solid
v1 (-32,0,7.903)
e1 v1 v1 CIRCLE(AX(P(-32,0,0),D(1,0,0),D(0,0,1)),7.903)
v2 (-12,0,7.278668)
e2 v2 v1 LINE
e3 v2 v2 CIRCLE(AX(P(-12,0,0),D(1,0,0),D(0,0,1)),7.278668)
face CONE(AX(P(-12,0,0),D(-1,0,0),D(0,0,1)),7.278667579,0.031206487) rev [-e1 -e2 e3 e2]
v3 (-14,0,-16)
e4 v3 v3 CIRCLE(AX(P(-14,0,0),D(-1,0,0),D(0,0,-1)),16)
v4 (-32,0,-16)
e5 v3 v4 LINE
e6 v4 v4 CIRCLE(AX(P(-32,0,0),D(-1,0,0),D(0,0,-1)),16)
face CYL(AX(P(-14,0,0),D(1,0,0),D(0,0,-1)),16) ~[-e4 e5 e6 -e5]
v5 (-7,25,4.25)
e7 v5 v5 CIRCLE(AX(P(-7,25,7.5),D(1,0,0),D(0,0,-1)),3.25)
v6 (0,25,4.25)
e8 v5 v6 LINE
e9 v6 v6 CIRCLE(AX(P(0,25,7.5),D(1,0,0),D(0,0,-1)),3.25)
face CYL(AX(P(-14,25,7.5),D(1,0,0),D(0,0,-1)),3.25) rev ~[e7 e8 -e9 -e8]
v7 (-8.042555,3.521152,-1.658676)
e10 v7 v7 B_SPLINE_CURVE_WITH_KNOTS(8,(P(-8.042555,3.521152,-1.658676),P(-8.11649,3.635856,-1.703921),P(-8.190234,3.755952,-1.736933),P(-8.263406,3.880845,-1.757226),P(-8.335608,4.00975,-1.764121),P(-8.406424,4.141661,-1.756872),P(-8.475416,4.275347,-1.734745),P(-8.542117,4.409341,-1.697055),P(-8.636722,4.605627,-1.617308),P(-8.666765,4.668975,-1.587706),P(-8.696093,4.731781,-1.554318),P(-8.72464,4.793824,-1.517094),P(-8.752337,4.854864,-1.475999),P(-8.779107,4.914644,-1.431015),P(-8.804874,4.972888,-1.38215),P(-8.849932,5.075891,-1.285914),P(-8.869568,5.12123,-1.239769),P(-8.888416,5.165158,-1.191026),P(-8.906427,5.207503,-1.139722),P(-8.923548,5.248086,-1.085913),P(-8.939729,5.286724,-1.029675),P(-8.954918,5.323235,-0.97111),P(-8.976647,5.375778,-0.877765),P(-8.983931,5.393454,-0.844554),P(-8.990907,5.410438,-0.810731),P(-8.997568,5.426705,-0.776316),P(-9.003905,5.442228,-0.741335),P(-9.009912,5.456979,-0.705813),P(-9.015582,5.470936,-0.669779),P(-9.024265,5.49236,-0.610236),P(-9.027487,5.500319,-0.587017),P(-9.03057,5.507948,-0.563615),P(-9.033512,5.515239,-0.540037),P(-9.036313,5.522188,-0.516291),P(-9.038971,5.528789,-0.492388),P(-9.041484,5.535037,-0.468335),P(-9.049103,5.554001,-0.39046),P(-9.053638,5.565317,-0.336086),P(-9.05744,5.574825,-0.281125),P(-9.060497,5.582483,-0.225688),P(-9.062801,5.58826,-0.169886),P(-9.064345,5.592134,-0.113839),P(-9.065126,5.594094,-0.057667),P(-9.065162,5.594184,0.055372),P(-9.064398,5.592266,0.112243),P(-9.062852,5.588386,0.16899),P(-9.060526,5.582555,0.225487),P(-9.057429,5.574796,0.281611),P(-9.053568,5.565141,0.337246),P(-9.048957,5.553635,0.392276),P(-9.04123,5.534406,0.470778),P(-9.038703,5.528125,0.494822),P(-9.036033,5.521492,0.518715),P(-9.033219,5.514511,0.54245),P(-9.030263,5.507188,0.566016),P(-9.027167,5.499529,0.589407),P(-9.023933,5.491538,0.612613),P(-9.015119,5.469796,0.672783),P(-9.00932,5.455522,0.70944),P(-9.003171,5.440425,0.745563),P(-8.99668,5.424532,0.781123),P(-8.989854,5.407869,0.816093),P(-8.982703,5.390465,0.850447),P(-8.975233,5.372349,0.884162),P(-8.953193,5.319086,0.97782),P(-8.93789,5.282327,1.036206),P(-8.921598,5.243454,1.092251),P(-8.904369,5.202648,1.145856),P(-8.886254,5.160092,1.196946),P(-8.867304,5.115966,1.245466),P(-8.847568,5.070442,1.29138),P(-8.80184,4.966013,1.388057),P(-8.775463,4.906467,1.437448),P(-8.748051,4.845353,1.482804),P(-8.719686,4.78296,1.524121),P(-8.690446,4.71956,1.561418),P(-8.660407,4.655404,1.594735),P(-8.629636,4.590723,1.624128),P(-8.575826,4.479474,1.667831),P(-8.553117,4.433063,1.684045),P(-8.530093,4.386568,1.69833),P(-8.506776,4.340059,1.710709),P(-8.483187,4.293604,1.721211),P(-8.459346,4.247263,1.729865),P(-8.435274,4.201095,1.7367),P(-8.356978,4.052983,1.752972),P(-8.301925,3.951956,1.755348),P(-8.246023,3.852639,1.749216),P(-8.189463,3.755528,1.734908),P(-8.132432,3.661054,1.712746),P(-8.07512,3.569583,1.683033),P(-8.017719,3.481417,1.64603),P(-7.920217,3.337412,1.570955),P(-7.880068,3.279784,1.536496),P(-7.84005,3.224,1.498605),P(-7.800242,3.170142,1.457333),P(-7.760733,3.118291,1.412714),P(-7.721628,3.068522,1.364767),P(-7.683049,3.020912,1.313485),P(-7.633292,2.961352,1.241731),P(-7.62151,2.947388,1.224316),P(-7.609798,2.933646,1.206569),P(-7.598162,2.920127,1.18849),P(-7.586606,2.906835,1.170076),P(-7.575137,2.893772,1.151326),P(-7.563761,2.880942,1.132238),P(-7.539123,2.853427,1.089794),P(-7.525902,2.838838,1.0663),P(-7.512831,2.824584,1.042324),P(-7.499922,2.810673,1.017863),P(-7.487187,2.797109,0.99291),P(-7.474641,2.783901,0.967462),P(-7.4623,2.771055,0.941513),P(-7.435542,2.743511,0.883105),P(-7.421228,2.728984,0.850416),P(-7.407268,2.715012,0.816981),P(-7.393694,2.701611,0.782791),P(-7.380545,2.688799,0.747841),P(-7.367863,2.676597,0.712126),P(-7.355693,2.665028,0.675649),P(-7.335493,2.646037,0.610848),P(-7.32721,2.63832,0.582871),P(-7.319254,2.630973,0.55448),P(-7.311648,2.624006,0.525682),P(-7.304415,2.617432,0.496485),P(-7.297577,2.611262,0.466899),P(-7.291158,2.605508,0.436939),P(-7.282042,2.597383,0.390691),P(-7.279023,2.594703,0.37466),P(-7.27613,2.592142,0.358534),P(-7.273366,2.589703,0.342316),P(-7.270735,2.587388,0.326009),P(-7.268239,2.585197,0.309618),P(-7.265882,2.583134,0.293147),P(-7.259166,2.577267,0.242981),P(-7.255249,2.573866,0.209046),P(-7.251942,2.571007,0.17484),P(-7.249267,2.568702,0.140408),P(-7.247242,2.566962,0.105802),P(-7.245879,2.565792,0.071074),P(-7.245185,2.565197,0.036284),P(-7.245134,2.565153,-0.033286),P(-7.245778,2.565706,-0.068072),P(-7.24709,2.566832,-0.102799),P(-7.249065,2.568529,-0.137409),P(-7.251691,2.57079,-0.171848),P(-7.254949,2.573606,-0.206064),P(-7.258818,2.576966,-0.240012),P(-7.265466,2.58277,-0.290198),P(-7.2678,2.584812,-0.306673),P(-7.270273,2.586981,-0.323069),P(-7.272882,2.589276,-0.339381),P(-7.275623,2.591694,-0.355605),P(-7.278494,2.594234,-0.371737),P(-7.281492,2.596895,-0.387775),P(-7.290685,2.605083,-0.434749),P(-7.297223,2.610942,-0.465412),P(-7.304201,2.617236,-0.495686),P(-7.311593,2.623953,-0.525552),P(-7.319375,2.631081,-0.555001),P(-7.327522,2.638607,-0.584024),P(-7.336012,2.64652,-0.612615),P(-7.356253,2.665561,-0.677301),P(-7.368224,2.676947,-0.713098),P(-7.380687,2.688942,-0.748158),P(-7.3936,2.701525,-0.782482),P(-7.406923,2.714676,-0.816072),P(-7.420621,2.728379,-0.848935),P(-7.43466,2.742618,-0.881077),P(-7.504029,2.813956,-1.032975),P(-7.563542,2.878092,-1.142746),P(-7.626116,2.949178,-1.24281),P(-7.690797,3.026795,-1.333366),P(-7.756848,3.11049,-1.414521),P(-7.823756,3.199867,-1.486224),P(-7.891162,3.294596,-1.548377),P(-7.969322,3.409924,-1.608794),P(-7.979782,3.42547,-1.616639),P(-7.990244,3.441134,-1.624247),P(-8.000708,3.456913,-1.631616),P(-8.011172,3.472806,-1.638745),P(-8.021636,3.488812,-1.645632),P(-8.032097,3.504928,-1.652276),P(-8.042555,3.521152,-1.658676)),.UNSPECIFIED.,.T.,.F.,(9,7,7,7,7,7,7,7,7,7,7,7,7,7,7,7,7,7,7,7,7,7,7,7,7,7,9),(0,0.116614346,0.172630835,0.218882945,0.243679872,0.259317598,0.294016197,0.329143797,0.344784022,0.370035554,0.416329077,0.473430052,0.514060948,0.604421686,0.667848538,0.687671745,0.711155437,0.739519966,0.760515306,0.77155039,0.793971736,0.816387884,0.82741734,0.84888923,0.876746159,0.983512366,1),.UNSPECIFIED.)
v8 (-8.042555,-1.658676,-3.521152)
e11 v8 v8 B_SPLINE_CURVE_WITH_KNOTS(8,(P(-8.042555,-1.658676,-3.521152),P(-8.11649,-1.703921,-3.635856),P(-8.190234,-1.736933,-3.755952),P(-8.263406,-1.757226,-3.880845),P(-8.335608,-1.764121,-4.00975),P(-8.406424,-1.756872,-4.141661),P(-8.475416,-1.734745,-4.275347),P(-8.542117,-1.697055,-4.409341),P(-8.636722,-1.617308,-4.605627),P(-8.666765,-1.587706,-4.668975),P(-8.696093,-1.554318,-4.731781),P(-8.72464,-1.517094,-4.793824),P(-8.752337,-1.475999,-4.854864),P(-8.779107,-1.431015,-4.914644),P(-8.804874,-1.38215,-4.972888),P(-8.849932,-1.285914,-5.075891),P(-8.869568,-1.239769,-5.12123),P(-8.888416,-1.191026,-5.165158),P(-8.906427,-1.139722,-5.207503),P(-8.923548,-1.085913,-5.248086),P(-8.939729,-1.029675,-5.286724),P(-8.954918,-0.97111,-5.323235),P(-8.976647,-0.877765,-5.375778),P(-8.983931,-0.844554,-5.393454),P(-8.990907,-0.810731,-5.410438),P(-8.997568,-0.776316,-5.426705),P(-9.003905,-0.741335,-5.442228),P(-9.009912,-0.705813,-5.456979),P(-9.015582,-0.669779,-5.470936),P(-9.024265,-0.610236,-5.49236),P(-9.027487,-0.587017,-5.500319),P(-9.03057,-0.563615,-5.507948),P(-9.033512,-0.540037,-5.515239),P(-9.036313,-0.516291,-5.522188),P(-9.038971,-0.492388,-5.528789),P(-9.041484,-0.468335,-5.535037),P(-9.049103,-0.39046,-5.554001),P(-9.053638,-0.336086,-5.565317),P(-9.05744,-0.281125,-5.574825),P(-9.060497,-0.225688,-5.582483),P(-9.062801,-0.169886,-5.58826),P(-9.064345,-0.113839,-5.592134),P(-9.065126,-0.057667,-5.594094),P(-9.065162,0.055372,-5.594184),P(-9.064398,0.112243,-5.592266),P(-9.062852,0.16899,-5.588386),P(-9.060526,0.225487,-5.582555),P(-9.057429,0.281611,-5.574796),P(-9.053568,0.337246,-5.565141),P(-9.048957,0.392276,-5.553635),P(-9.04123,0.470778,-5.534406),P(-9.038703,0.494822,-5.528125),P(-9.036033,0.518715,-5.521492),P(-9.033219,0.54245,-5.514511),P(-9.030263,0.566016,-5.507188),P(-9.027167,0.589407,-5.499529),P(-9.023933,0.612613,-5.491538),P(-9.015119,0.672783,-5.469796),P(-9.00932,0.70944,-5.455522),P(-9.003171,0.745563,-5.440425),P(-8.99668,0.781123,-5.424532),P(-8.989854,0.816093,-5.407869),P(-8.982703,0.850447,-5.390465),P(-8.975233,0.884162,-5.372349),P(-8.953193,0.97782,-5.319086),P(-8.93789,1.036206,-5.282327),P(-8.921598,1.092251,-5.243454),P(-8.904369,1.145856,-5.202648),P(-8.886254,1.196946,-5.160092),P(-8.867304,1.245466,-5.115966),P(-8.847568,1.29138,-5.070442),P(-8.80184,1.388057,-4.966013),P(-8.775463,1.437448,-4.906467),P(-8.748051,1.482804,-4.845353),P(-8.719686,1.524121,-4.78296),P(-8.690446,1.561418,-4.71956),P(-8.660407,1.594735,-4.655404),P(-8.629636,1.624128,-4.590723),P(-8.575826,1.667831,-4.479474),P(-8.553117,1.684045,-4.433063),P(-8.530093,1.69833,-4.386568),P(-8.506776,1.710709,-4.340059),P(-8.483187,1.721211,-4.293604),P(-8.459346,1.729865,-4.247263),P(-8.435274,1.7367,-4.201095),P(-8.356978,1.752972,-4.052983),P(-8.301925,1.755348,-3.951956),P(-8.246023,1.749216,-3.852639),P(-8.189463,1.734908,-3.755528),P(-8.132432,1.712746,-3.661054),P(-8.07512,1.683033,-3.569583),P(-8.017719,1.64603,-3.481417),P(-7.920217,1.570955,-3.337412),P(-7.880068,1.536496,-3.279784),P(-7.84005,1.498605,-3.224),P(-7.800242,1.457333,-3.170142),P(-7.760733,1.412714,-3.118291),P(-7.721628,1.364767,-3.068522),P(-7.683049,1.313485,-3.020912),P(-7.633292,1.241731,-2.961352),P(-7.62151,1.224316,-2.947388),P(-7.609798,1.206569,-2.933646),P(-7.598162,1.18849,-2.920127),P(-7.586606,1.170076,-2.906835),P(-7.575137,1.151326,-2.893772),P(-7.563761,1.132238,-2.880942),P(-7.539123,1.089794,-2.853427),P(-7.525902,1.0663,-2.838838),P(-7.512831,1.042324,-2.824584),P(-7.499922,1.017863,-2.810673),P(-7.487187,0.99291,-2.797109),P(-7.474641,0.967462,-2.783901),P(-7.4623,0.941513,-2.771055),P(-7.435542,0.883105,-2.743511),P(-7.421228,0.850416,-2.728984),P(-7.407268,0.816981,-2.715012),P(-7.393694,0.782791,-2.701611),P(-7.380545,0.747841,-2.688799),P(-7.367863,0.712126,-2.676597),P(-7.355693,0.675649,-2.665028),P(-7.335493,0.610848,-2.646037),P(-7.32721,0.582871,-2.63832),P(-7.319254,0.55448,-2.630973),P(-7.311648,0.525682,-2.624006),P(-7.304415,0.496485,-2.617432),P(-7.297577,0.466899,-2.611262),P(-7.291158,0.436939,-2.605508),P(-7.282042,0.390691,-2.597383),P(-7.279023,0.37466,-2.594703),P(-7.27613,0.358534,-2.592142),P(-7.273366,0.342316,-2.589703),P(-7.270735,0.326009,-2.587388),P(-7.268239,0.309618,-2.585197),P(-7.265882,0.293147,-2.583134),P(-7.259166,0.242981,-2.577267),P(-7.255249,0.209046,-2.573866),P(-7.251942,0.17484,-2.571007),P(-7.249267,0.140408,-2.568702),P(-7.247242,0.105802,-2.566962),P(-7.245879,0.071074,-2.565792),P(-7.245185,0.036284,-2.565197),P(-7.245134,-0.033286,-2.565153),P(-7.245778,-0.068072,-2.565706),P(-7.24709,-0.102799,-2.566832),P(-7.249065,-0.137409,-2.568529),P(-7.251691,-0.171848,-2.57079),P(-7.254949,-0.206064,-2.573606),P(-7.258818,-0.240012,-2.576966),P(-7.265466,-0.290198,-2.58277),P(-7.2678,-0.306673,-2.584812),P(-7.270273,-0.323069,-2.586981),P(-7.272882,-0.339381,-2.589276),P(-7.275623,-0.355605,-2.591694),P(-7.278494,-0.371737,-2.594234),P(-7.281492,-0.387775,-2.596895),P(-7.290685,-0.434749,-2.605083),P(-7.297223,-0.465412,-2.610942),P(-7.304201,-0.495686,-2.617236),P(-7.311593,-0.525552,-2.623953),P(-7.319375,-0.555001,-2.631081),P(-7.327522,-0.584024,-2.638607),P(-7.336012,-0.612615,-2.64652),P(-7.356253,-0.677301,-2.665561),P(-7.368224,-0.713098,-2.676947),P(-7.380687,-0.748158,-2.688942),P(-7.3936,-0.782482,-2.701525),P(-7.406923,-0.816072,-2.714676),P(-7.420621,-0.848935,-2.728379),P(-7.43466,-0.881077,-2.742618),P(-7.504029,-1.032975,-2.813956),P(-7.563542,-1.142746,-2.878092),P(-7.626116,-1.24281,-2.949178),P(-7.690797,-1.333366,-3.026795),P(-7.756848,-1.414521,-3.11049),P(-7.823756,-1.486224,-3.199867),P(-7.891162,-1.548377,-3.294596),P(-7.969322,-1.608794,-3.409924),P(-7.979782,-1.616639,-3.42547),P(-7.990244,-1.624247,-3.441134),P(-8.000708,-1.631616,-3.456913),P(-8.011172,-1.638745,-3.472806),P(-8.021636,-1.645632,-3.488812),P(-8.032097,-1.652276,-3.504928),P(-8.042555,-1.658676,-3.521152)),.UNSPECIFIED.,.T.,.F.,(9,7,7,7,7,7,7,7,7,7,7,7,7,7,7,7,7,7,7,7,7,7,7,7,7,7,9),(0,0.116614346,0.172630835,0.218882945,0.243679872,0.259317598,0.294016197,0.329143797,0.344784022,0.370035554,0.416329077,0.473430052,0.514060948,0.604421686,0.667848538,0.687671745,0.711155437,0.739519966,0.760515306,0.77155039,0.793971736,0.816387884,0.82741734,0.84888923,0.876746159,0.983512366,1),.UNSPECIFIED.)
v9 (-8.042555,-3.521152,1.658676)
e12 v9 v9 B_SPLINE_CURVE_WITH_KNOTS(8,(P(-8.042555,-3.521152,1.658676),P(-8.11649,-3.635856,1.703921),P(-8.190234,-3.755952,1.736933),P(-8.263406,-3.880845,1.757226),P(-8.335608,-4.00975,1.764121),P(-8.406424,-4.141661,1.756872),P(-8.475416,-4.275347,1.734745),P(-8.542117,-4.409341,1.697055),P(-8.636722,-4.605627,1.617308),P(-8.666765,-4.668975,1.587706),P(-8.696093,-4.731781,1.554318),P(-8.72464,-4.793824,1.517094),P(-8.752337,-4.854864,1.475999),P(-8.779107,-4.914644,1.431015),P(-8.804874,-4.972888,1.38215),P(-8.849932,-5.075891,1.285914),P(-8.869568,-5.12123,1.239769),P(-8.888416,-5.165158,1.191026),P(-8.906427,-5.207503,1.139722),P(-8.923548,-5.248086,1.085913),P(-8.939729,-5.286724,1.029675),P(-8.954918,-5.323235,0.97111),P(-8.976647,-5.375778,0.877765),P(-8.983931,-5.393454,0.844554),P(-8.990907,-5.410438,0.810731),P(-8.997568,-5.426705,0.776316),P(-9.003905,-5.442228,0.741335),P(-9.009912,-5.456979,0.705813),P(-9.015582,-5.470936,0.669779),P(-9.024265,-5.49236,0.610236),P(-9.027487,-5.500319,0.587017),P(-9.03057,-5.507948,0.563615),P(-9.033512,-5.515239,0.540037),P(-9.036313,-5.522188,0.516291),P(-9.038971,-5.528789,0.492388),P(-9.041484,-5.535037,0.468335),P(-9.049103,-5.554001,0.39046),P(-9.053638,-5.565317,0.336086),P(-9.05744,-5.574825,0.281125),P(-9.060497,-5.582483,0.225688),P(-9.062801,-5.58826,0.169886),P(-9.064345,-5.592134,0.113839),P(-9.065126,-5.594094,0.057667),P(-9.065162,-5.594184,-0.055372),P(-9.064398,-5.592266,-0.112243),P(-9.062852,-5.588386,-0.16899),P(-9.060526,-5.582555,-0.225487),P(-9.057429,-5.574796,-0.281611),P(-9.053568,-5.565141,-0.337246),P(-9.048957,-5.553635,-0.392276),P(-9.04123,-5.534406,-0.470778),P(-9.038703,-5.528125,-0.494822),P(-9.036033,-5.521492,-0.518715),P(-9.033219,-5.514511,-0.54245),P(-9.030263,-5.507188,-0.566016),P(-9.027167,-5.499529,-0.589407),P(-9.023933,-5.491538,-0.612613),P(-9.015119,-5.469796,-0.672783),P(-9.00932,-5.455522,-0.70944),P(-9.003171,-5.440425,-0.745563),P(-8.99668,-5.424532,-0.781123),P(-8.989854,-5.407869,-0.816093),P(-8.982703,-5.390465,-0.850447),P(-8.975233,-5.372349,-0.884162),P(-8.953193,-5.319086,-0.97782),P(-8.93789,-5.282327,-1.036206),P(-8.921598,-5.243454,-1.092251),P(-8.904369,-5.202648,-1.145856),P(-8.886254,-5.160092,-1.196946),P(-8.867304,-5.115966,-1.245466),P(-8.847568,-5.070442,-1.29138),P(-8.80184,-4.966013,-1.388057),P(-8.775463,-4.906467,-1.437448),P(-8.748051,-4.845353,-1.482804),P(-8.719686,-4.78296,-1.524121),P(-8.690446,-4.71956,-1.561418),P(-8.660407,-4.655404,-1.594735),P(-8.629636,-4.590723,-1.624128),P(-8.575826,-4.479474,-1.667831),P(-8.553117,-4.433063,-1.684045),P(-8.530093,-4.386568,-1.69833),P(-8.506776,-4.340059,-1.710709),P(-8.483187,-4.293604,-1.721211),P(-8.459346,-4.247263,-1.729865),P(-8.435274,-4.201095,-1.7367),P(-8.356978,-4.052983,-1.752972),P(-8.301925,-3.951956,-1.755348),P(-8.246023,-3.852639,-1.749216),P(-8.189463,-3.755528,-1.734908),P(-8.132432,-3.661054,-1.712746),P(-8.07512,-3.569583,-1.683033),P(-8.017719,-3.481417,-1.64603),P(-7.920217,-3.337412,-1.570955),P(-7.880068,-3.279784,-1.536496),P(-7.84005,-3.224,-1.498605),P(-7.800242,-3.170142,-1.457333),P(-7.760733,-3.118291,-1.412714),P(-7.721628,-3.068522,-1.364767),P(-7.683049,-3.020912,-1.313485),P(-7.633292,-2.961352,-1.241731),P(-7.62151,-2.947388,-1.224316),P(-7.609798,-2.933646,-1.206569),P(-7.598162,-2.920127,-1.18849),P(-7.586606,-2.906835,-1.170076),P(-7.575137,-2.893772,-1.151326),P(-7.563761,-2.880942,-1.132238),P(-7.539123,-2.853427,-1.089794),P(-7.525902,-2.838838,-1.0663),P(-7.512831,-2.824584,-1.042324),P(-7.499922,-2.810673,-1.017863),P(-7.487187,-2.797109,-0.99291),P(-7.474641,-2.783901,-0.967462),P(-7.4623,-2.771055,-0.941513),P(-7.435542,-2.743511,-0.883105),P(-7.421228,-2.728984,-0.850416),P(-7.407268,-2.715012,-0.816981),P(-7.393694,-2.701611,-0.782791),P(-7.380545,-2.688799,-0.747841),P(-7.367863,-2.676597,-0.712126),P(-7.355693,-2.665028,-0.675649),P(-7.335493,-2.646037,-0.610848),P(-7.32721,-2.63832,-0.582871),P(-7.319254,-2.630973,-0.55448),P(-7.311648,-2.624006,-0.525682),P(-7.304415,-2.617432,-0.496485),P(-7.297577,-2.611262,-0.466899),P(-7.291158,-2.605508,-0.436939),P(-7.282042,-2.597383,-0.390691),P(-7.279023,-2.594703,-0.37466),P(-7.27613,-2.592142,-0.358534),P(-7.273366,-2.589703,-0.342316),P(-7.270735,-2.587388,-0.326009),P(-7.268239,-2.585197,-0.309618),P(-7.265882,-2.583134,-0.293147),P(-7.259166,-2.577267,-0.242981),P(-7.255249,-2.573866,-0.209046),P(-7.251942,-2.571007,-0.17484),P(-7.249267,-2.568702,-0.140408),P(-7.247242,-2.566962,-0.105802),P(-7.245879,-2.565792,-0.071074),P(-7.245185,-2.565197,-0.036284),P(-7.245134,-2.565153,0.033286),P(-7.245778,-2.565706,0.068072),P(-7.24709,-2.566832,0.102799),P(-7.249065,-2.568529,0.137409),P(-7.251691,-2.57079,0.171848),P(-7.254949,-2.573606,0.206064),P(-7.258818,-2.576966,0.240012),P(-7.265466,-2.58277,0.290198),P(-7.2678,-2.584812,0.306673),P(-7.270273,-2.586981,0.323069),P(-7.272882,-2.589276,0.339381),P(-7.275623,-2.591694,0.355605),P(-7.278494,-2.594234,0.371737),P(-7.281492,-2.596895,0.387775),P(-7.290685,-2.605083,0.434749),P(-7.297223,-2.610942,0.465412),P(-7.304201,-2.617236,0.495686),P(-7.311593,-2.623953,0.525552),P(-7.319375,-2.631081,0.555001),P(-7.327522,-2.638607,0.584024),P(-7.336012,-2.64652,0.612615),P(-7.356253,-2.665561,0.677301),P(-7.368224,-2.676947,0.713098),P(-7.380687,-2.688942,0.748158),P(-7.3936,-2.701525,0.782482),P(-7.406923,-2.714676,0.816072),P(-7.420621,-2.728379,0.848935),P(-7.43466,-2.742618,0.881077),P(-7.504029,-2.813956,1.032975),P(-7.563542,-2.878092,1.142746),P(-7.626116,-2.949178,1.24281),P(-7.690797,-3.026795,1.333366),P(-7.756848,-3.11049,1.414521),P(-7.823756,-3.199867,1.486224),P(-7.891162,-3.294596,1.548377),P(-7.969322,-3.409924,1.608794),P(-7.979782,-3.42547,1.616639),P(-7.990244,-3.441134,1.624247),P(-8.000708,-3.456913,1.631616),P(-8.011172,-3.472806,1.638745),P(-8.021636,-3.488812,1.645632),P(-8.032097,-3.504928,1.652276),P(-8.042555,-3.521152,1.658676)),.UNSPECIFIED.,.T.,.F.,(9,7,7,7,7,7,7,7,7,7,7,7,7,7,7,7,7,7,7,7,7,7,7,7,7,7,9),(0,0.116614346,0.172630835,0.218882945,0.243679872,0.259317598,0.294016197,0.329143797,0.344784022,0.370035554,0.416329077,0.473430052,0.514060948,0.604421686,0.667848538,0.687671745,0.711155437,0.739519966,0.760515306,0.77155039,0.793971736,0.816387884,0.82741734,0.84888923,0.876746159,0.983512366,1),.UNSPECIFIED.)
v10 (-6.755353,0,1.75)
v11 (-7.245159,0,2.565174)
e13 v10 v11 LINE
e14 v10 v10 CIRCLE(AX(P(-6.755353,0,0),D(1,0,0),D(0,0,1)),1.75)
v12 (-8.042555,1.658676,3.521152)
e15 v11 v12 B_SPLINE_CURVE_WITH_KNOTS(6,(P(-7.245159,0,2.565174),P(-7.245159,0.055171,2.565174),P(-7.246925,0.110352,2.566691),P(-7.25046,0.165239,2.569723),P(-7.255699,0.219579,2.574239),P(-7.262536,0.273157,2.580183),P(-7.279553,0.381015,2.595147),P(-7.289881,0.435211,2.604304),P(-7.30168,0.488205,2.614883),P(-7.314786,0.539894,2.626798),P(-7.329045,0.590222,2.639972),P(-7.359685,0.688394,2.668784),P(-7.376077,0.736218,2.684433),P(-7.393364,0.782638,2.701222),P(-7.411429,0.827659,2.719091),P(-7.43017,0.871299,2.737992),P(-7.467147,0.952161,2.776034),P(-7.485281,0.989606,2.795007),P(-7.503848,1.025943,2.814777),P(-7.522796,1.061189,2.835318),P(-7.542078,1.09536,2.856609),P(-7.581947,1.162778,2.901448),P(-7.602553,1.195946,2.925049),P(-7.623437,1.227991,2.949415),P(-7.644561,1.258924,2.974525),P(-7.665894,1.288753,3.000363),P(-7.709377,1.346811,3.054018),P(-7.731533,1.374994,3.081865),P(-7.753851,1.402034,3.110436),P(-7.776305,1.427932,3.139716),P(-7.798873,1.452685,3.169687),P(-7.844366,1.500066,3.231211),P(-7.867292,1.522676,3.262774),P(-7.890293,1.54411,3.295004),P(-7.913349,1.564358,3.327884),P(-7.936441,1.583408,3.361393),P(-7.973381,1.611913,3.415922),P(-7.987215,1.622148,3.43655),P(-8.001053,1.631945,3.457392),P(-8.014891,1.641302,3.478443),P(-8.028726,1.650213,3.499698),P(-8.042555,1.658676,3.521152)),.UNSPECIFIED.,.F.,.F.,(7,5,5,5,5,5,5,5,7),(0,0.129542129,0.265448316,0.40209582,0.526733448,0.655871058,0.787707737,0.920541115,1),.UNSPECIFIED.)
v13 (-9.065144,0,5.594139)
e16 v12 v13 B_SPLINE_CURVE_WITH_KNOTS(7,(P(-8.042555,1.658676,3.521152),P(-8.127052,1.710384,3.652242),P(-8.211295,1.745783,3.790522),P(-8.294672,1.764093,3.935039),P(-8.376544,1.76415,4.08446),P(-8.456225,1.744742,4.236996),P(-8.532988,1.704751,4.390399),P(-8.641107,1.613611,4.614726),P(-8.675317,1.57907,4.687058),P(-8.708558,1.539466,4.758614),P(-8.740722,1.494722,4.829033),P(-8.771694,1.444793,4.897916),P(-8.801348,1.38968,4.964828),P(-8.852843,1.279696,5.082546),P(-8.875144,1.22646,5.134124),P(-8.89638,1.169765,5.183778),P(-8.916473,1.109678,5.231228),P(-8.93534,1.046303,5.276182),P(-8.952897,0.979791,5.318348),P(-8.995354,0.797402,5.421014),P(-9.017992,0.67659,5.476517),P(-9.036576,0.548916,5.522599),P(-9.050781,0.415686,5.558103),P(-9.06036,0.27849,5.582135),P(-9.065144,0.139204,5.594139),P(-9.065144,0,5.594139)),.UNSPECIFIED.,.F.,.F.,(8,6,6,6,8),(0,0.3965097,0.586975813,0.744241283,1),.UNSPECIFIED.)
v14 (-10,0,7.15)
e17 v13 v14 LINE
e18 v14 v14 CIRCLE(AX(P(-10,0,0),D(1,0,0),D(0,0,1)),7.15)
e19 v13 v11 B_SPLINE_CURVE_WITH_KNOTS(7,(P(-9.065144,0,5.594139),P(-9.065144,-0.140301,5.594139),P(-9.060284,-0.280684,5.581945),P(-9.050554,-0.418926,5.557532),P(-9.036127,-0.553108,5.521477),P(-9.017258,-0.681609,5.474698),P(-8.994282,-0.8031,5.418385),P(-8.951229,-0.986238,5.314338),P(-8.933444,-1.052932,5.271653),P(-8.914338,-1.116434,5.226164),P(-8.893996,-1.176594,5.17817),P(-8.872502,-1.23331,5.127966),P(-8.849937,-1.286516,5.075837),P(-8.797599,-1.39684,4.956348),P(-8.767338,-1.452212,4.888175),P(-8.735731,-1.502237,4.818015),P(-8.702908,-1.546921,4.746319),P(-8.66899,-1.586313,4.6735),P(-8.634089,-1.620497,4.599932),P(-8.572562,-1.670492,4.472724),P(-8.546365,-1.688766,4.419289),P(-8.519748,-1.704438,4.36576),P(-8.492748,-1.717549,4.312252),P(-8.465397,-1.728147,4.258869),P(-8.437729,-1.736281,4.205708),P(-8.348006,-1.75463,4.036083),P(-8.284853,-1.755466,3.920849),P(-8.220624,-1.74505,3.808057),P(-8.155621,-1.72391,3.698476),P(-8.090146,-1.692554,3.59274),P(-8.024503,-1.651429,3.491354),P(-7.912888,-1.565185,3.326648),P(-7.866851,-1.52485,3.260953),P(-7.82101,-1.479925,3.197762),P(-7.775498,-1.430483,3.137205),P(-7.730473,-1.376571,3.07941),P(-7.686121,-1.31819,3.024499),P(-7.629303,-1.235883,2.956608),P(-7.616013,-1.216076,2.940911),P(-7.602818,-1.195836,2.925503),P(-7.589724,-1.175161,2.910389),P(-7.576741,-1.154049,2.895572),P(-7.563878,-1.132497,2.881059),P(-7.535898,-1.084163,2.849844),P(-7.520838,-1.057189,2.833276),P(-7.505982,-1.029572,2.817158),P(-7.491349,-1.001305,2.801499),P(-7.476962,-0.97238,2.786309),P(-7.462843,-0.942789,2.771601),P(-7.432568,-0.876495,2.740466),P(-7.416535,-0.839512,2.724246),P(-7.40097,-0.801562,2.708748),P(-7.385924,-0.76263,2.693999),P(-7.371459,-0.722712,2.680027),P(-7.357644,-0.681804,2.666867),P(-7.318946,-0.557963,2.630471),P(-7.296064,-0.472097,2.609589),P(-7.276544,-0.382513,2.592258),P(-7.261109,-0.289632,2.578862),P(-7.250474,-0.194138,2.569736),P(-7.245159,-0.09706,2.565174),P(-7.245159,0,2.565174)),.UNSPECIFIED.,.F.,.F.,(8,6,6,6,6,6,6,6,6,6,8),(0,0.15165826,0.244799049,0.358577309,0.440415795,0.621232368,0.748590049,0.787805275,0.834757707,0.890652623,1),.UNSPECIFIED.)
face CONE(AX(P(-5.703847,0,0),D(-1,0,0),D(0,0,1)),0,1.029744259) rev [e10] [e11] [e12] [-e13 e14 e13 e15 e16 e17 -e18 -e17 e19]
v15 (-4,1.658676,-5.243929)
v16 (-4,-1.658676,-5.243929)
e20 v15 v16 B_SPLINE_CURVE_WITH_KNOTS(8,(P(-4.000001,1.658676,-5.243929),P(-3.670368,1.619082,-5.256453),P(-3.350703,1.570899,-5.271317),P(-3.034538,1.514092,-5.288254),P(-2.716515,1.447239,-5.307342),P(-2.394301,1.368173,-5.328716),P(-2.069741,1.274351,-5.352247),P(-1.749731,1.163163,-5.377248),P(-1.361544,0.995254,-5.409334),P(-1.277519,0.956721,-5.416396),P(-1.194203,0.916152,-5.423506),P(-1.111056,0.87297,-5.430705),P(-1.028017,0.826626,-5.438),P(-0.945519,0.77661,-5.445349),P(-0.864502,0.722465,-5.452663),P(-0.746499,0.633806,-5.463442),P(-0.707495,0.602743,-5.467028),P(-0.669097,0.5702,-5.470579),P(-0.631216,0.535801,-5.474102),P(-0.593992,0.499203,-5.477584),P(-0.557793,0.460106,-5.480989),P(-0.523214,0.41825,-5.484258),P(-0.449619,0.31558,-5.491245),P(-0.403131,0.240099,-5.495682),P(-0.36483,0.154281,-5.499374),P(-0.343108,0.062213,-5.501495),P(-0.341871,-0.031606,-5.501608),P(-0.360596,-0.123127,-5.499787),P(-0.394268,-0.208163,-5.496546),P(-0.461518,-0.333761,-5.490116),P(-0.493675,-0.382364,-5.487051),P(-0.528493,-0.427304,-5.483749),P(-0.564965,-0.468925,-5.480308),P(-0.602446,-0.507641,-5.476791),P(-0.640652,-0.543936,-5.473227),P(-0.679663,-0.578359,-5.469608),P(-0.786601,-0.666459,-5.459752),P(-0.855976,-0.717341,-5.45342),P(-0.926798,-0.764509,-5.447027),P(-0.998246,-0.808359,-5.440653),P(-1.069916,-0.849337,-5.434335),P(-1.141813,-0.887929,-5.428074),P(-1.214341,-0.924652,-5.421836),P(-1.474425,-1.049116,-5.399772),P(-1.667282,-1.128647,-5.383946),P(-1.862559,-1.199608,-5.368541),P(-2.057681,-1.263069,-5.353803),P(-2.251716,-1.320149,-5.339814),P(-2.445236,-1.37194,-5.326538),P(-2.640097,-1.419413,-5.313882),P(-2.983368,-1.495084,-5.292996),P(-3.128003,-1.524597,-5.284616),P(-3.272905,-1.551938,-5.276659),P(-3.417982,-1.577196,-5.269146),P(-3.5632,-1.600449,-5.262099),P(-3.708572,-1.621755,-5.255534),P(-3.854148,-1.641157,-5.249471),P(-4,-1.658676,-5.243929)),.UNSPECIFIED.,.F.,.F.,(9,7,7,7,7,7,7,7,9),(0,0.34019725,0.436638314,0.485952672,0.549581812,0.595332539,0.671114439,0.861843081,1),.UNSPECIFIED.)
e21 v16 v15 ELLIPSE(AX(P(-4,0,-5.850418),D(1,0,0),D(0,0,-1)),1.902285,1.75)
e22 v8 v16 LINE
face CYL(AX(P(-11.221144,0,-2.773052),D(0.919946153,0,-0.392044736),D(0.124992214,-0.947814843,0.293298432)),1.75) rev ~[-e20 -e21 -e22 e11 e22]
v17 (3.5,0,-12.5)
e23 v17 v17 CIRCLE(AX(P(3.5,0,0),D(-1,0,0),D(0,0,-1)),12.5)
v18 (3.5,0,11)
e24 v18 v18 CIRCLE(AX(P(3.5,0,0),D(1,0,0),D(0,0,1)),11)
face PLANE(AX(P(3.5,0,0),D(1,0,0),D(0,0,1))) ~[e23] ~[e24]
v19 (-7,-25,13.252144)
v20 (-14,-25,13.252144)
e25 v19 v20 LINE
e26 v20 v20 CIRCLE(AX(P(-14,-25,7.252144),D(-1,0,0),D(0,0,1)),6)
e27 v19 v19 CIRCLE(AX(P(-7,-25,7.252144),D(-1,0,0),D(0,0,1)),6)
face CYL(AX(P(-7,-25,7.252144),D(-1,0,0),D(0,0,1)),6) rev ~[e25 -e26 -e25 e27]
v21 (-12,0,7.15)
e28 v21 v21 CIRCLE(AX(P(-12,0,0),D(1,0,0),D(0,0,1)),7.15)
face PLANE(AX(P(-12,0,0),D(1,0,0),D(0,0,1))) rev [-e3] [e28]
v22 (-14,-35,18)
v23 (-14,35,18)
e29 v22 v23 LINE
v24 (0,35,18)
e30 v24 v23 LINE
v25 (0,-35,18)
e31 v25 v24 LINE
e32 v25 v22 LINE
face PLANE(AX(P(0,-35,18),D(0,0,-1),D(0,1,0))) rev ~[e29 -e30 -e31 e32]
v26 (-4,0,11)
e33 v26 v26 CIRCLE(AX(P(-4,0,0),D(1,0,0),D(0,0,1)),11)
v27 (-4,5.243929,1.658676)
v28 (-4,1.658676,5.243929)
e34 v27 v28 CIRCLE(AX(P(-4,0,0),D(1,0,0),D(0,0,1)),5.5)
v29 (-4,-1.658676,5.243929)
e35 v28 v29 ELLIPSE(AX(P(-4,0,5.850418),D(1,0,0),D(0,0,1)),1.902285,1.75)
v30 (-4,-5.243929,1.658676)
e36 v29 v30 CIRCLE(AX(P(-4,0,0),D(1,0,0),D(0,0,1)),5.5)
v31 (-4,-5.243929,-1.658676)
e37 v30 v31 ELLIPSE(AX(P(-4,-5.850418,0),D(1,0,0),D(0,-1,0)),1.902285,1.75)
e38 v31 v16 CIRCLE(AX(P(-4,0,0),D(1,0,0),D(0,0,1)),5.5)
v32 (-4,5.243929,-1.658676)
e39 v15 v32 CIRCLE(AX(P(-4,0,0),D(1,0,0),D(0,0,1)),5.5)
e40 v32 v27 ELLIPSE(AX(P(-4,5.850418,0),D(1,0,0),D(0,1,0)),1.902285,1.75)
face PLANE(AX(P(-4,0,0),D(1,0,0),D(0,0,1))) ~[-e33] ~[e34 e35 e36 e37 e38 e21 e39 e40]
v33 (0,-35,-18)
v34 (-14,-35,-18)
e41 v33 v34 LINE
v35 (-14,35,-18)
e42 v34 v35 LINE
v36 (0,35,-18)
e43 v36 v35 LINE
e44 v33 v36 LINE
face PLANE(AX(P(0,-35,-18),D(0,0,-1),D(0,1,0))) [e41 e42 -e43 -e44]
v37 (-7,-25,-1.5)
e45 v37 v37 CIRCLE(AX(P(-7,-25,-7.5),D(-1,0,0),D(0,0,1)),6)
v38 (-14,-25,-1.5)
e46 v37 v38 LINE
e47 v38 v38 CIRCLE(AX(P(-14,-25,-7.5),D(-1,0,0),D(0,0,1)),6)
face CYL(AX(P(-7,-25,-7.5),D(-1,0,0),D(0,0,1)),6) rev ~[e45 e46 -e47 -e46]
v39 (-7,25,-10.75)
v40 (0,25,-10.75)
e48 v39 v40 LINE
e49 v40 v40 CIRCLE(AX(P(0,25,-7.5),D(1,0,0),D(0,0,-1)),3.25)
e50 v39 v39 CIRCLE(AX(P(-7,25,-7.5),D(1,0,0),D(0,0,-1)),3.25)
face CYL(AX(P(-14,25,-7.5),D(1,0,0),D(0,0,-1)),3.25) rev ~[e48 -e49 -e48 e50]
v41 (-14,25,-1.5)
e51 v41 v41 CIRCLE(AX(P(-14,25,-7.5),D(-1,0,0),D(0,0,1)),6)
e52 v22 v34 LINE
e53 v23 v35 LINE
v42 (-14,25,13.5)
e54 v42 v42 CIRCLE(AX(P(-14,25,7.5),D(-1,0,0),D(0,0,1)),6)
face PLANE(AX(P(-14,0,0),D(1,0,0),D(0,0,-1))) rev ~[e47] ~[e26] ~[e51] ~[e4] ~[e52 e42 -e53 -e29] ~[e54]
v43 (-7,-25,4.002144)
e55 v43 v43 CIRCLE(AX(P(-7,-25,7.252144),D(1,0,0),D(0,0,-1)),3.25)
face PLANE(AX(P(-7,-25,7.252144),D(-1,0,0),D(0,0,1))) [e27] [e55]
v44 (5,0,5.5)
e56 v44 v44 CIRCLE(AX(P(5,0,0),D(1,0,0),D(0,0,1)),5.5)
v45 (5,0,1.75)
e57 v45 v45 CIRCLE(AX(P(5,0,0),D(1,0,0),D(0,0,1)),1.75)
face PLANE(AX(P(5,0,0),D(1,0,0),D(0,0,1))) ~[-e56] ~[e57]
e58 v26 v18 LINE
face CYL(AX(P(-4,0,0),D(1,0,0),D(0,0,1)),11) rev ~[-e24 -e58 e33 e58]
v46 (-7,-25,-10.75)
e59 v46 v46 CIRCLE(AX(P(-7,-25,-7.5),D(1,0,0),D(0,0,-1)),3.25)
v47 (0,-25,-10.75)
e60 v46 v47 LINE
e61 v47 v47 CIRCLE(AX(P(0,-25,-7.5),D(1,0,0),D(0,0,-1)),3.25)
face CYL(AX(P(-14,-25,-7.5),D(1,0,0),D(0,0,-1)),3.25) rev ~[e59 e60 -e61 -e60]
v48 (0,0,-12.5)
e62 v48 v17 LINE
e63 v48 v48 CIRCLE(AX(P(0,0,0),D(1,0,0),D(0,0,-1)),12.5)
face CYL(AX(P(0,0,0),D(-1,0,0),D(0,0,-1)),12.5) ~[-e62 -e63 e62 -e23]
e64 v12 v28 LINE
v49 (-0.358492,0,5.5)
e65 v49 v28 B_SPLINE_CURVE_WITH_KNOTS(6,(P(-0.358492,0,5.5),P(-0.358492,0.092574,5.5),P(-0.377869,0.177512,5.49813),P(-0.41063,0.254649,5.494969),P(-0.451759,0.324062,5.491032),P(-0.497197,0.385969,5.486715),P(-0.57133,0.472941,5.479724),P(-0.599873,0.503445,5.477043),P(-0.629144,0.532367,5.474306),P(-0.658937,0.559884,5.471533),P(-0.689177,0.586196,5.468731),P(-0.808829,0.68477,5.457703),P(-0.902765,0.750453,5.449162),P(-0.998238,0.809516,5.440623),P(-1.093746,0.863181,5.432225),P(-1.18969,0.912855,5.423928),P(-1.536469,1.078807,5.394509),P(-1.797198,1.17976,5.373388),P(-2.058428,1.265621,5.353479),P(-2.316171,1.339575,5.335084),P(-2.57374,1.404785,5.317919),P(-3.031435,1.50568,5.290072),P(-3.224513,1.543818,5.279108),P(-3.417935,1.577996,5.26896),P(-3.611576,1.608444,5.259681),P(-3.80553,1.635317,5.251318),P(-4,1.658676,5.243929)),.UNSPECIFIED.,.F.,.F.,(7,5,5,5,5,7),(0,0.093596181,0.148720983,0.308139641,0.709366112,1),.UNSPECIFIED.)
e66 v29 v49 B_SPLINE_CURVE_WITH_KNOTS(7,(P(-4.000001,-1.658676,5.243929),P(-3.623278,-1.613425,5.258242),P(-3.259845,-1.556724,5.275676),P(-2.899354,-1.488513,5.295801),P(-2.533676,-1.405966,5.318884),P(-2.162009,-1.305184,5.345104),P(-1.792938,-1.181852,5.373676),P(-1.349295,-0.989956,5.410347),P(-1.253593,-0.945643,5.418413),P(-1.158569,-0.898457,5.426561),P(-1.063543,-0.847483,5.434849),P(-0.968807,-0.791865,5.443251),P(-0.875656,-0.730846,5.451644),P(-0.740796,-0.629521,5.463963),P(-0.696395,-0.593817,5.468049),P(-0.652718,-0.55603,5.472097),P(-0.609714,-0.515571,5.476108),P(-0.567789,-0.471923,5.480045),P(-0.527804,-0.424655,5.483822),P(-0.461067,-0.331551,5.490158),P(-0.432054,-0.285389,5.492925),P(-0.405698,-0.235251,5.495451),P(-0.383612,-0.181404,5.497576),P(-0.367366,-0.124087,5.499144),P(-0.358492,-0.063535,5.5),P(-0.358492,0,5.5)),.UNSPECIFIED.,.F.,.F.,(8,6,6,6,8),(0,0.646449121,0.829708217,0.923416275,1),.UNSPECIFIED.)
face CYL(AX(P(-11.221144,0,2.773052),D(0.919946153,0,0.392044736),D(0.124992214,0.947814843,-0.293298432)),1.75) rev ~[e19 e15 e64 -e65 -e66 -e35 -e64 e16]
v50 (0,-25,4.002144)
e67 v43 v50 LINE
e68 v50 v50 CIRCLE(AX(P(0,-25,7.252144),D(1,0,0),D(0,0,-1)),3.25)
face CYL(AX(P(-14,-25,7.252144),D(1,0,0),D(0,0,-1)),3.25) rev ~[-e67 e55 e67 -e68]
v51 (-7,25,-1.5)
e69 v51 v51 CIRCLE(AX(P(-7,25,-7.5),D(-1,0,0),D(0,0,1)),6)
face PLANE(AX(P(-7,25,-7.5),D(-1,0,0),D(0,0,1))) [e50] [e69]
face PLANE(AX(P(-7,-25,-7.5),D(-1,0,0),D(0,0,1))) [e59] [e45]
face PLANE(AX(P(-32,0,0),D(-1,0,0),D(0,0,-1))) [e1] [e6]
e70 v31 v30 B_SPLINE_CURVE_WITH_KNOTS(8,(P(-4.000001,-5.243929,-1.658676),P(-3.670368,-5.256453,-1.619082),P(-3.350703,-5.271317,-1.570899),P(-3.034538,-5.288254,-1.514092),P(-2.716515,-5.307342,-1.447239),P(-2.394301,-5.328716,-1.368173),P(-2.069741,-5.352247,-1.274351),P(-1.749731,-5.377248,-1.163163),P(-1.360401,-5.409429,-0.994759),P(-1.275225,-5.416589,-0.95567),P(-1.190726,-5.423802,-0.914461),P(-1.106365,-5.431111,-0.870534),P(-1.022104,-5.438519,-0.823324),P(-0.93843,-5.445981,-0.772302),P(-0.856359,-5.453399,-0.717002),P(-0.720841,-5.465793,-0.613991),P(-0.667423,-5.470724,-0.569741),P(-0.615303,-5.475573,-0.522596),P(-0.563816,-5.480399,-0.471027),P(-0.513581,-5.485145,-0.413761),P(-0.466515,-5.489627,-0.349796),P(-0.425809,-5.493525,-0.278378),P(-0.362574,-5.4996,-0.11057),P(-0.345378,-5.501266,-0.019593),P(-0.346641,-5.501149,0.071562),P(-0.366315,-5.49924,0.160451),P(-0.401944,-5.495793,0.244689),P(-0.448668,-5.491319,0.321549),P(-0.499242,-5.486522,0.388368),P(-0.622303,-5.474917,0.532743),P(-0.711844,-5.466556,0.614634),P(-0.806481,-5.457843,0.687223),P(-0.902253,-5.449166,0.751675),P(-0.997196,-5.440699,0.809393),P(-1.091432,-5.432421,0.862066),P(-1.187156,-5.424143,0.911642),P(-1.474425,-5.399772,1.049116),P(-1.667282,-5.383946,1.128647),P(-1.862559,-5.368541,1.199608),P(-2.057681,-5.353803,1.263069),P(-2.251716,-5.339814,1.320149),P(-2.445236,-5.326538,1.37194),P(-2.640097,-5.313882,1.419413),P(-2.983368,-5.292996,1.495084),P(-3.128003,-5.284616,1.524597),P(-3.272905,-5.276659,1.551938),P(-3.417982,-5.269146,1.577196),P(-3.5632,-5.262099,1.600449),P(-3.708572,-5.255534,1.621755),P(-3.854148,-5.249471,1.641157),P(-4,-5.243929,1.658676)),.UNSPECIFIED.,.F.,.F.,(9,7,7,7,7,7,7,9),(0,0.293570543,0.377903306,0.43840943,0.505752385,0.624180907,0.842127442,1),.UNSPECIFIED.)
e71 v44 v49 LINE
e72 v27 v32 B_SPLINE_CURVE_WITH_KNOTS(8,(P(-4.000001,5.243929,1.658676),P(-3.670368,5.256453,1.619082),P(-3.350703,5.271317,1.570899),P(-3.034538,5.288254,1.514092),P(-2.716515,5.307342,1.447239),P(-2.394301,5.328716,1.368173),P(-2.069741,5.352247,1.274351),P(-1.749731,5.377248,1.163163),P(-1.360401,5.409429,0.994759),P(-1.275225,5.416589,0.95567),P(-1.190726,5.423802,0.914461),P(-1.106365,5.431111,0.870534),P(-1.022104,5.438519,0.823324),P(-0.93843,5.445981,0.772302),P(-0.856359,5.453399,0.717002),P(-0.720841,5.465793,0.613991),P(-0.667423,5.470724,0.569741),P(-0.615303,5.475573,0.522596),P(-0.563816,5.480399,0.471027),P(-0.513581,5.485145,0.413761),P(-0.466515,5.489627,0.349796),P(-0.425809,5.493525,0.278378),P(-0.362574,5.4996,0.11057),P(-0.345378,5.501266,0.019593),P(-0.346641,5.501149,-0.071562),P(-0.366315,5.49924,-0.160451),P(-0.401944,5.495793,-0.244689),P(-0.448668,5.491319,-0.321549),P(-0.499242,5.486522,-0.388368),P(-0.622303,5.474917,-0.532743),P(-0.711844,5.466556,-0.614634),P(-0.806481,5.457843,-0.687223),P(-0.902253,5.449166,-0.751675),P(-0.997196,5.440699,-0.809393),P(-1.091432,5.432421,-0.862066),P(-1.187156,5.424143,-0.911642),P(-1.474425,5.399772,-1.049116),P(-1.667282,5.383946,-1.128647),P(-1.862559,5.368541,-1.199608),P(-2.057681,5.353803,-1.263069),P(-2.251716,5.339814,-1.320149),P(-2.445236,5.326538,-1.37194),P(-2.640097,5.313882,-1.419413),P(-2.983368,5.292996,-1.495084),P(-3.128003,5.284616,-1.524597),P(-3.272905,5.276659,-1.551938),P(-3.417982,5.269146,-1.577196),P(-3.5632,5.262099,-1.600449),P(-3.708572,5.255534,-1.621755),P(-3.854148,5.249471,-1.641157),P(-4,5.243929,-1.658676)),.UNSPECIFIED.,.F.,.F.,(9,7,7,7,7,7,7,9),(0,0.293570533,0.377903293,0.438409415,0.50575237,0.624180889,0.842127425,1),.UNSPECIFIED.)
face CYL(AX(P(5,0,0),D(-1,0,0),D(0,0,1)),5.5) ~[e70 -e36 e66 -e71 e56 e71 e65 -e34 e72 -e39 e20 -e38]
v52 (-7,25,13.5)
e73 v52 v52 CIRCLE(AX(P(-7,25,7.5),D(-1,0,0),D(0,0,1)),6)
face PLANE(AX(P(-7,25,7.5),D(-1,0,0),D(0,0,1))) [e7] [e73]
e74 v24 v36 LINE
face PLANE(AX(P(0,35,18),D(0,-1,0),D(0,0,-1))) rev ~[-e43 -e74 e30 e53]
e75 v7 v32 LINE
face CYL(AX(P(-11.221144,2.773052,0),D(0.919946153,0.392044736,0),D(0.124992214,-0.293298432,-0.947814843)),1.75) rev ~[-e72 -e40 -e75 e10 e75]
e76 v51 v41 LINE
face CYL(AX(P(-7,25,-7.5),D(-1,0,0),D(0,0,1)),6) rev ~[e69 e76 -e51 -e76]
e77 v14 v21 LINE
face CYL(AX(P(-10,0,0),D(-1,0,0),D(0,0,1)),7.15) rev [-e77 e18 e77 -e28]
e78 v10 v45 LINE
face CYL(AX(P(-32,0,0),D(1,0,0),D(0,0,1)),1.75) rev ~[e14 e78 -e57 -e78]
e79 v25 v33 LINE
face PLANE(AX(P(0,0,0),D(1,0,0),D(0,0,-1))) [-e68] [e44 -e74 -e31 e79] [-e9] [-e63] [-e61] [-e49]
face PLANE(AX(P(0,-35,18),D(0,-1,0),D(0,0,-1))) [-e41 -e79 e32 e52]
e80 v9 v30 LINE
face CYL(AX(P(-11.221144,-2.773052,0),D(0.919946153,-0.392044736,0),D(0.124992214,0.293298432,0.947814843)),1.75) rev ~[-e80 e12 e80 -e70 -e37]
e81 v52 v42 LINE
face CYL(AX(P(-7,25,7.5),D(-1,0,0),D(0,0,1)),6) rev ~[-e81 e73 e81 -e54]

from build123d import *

# Parameters (mm, degrees)
ESQUISSE1_W                                     = 36
ESQUISSE1_H                                     = 70
BASE_EXTRUSION_DEPTH                            = 14
ESQUISSE10_R                                    = 16
BOSS_EXTRU_3_DEPTH                              = 18
ESQUISSE3_R                                     = 12.5
BOSS_EXTRU_2_DEPTH                              = 5
CHANFREIN1_SIZE                                 = 0.5
CHAMBRAGE_POUR_VIS_T_TE_CYLINDRIQUE_D           = 6.5
CHAMBRAGE_POUR_VIS_T_TE_CYLINDRIQUE_CBORE_D     = 12
CHAMBRAGE_POUR_VIS_T_TE_CYLINDRIQUE_CBORE_DEPTH = 7
R_P_TITION_CIRCULAIRE1_COUNT                    = 4


with BuildPart() as part:
    # Esquisse1 → Base-Extrusion (new body)
    with BuildSketch(Plane(origin=(0, 0, 0), x_dir=(0, 0, -1), z_dir=(1, 0, 0))):
        Rectangle(ESQUISSE1_W, ESQUISSE1_H)
    extrude(amount=-BASE_EXTRUSION_DEPTH)

    # Esquisse10 → Boss.-Extru.3 (add)
    with BuildSketch(Plane.ZY.offset(14)):
        Circle(ESQUISSE10_R)
    extrude(amount=BOSS_EXTRU_3_DEPTH)

    # Esquisse3 → Boss.-Extru.2 (add)
    with BuildSketch(Plane(origin=(0, 0, 0), x_dir=(0, 0, -1), z_dir=(1, 0, 0))):
        Circle(ESQUISSE3_R)
    extrude(amount=BOSS_EXTRU_2_DEPTH)

    # Chanfrein1
    chanfrein1_edges = [part.edges().sort_by_distance(p)[0] for p in [
        (5, 0, 12.5),
    ]]
    chamfer(chanfrein1_edges, length=CHANFREIN1_SIZE)

    # Chambrage pour vis à tête cylindrique à 6 pans creux (vis CHC) M51 (through all)
    with Locations(Plane.ZY.offset(14)):
        with Locations((-7.5, 25), (7.5, 25), (7.252144403, -25), (-7.5, -25)):
            CounterBoreHole(CHAMBRAGE_POUR_VIS_T_TE_CYLINDRIQUE_D / 2, CHAMBRAGE_POUR_VIS_T_TE_CYLINDRIQUE_CBORE_D / 2, CHAMBRAGE_POUR_VIS_T_TE_CYLINDRIQUE_CBORE_DEPTH)

    # Esquisse6 → Enlèvement de matière-Révolution1 (revolve, cut)
    with BuildSketch(Plane.XY):
        Polygon((-32, 1.75), (5, 1.75), (5, 5.5), (-4, 5.5), (-4, 11), (3.5, 11), (3.5, 13.852176113), (8, 13.852176113), (8, 0), (-32, 0), align=None)
    revolve(axis=Axis((0, 0, 0), (1, 0, 0)), mode=Mode.SUBTRACT)

    # Esquisse8 → Perçage1 (revolve, cut)
    with BuildSketch(Plane(origin=(-32, 0, 0), x_dir=(0, 0, 1), z_dir=(0, 1, 0))):
        Polygon((0, 0), (0, 26.296153426), (7.15, 22), (7.15, 20), (7.278667579, 20), (7.903, 0), align=None)
    revolve(axis=Axis((-38.35, 0, 0), (1, 0, 0)), mode=Mode.SUBTRACT)

    # Esquisse9 → Enlèvement de matière-Révolution2 (revolve, cut)
    with BuildSketch(Plane.XY):
        Polygon((-11.907222504, 4.382957476), (0.437240206, 9.643680185), (1.123318493, 8.033774416), (-11.221144216, 2.773051707), align=None)
    enl_vement_de_mati_re_r_volution2 = revolve(axis=Axis((-35.796822369, -7.700132197, 0), (0.9199461534250014, 0.39204473571079074, 0)), mode=Mode.SUBTRACT)

    # Répétition circulaire1: Enlèvement de matière-Révolution2 ×4 about axis
    r_p_tition_circulaire1_axis = Axis((50, 0, 0), (-1, 0, 0))
    for i in range(1, R_P_TITION_CIRCULAIRE1_COUNT):
        add(enl_vement_de_mati_re_r_volution2.rotate(r_p_tition_circulaire1_axis, i * 360 / R_P_TITION_CIRCULAIRE1_COUNT), mode=Mode.SUBTRACT)


solid = part.part
